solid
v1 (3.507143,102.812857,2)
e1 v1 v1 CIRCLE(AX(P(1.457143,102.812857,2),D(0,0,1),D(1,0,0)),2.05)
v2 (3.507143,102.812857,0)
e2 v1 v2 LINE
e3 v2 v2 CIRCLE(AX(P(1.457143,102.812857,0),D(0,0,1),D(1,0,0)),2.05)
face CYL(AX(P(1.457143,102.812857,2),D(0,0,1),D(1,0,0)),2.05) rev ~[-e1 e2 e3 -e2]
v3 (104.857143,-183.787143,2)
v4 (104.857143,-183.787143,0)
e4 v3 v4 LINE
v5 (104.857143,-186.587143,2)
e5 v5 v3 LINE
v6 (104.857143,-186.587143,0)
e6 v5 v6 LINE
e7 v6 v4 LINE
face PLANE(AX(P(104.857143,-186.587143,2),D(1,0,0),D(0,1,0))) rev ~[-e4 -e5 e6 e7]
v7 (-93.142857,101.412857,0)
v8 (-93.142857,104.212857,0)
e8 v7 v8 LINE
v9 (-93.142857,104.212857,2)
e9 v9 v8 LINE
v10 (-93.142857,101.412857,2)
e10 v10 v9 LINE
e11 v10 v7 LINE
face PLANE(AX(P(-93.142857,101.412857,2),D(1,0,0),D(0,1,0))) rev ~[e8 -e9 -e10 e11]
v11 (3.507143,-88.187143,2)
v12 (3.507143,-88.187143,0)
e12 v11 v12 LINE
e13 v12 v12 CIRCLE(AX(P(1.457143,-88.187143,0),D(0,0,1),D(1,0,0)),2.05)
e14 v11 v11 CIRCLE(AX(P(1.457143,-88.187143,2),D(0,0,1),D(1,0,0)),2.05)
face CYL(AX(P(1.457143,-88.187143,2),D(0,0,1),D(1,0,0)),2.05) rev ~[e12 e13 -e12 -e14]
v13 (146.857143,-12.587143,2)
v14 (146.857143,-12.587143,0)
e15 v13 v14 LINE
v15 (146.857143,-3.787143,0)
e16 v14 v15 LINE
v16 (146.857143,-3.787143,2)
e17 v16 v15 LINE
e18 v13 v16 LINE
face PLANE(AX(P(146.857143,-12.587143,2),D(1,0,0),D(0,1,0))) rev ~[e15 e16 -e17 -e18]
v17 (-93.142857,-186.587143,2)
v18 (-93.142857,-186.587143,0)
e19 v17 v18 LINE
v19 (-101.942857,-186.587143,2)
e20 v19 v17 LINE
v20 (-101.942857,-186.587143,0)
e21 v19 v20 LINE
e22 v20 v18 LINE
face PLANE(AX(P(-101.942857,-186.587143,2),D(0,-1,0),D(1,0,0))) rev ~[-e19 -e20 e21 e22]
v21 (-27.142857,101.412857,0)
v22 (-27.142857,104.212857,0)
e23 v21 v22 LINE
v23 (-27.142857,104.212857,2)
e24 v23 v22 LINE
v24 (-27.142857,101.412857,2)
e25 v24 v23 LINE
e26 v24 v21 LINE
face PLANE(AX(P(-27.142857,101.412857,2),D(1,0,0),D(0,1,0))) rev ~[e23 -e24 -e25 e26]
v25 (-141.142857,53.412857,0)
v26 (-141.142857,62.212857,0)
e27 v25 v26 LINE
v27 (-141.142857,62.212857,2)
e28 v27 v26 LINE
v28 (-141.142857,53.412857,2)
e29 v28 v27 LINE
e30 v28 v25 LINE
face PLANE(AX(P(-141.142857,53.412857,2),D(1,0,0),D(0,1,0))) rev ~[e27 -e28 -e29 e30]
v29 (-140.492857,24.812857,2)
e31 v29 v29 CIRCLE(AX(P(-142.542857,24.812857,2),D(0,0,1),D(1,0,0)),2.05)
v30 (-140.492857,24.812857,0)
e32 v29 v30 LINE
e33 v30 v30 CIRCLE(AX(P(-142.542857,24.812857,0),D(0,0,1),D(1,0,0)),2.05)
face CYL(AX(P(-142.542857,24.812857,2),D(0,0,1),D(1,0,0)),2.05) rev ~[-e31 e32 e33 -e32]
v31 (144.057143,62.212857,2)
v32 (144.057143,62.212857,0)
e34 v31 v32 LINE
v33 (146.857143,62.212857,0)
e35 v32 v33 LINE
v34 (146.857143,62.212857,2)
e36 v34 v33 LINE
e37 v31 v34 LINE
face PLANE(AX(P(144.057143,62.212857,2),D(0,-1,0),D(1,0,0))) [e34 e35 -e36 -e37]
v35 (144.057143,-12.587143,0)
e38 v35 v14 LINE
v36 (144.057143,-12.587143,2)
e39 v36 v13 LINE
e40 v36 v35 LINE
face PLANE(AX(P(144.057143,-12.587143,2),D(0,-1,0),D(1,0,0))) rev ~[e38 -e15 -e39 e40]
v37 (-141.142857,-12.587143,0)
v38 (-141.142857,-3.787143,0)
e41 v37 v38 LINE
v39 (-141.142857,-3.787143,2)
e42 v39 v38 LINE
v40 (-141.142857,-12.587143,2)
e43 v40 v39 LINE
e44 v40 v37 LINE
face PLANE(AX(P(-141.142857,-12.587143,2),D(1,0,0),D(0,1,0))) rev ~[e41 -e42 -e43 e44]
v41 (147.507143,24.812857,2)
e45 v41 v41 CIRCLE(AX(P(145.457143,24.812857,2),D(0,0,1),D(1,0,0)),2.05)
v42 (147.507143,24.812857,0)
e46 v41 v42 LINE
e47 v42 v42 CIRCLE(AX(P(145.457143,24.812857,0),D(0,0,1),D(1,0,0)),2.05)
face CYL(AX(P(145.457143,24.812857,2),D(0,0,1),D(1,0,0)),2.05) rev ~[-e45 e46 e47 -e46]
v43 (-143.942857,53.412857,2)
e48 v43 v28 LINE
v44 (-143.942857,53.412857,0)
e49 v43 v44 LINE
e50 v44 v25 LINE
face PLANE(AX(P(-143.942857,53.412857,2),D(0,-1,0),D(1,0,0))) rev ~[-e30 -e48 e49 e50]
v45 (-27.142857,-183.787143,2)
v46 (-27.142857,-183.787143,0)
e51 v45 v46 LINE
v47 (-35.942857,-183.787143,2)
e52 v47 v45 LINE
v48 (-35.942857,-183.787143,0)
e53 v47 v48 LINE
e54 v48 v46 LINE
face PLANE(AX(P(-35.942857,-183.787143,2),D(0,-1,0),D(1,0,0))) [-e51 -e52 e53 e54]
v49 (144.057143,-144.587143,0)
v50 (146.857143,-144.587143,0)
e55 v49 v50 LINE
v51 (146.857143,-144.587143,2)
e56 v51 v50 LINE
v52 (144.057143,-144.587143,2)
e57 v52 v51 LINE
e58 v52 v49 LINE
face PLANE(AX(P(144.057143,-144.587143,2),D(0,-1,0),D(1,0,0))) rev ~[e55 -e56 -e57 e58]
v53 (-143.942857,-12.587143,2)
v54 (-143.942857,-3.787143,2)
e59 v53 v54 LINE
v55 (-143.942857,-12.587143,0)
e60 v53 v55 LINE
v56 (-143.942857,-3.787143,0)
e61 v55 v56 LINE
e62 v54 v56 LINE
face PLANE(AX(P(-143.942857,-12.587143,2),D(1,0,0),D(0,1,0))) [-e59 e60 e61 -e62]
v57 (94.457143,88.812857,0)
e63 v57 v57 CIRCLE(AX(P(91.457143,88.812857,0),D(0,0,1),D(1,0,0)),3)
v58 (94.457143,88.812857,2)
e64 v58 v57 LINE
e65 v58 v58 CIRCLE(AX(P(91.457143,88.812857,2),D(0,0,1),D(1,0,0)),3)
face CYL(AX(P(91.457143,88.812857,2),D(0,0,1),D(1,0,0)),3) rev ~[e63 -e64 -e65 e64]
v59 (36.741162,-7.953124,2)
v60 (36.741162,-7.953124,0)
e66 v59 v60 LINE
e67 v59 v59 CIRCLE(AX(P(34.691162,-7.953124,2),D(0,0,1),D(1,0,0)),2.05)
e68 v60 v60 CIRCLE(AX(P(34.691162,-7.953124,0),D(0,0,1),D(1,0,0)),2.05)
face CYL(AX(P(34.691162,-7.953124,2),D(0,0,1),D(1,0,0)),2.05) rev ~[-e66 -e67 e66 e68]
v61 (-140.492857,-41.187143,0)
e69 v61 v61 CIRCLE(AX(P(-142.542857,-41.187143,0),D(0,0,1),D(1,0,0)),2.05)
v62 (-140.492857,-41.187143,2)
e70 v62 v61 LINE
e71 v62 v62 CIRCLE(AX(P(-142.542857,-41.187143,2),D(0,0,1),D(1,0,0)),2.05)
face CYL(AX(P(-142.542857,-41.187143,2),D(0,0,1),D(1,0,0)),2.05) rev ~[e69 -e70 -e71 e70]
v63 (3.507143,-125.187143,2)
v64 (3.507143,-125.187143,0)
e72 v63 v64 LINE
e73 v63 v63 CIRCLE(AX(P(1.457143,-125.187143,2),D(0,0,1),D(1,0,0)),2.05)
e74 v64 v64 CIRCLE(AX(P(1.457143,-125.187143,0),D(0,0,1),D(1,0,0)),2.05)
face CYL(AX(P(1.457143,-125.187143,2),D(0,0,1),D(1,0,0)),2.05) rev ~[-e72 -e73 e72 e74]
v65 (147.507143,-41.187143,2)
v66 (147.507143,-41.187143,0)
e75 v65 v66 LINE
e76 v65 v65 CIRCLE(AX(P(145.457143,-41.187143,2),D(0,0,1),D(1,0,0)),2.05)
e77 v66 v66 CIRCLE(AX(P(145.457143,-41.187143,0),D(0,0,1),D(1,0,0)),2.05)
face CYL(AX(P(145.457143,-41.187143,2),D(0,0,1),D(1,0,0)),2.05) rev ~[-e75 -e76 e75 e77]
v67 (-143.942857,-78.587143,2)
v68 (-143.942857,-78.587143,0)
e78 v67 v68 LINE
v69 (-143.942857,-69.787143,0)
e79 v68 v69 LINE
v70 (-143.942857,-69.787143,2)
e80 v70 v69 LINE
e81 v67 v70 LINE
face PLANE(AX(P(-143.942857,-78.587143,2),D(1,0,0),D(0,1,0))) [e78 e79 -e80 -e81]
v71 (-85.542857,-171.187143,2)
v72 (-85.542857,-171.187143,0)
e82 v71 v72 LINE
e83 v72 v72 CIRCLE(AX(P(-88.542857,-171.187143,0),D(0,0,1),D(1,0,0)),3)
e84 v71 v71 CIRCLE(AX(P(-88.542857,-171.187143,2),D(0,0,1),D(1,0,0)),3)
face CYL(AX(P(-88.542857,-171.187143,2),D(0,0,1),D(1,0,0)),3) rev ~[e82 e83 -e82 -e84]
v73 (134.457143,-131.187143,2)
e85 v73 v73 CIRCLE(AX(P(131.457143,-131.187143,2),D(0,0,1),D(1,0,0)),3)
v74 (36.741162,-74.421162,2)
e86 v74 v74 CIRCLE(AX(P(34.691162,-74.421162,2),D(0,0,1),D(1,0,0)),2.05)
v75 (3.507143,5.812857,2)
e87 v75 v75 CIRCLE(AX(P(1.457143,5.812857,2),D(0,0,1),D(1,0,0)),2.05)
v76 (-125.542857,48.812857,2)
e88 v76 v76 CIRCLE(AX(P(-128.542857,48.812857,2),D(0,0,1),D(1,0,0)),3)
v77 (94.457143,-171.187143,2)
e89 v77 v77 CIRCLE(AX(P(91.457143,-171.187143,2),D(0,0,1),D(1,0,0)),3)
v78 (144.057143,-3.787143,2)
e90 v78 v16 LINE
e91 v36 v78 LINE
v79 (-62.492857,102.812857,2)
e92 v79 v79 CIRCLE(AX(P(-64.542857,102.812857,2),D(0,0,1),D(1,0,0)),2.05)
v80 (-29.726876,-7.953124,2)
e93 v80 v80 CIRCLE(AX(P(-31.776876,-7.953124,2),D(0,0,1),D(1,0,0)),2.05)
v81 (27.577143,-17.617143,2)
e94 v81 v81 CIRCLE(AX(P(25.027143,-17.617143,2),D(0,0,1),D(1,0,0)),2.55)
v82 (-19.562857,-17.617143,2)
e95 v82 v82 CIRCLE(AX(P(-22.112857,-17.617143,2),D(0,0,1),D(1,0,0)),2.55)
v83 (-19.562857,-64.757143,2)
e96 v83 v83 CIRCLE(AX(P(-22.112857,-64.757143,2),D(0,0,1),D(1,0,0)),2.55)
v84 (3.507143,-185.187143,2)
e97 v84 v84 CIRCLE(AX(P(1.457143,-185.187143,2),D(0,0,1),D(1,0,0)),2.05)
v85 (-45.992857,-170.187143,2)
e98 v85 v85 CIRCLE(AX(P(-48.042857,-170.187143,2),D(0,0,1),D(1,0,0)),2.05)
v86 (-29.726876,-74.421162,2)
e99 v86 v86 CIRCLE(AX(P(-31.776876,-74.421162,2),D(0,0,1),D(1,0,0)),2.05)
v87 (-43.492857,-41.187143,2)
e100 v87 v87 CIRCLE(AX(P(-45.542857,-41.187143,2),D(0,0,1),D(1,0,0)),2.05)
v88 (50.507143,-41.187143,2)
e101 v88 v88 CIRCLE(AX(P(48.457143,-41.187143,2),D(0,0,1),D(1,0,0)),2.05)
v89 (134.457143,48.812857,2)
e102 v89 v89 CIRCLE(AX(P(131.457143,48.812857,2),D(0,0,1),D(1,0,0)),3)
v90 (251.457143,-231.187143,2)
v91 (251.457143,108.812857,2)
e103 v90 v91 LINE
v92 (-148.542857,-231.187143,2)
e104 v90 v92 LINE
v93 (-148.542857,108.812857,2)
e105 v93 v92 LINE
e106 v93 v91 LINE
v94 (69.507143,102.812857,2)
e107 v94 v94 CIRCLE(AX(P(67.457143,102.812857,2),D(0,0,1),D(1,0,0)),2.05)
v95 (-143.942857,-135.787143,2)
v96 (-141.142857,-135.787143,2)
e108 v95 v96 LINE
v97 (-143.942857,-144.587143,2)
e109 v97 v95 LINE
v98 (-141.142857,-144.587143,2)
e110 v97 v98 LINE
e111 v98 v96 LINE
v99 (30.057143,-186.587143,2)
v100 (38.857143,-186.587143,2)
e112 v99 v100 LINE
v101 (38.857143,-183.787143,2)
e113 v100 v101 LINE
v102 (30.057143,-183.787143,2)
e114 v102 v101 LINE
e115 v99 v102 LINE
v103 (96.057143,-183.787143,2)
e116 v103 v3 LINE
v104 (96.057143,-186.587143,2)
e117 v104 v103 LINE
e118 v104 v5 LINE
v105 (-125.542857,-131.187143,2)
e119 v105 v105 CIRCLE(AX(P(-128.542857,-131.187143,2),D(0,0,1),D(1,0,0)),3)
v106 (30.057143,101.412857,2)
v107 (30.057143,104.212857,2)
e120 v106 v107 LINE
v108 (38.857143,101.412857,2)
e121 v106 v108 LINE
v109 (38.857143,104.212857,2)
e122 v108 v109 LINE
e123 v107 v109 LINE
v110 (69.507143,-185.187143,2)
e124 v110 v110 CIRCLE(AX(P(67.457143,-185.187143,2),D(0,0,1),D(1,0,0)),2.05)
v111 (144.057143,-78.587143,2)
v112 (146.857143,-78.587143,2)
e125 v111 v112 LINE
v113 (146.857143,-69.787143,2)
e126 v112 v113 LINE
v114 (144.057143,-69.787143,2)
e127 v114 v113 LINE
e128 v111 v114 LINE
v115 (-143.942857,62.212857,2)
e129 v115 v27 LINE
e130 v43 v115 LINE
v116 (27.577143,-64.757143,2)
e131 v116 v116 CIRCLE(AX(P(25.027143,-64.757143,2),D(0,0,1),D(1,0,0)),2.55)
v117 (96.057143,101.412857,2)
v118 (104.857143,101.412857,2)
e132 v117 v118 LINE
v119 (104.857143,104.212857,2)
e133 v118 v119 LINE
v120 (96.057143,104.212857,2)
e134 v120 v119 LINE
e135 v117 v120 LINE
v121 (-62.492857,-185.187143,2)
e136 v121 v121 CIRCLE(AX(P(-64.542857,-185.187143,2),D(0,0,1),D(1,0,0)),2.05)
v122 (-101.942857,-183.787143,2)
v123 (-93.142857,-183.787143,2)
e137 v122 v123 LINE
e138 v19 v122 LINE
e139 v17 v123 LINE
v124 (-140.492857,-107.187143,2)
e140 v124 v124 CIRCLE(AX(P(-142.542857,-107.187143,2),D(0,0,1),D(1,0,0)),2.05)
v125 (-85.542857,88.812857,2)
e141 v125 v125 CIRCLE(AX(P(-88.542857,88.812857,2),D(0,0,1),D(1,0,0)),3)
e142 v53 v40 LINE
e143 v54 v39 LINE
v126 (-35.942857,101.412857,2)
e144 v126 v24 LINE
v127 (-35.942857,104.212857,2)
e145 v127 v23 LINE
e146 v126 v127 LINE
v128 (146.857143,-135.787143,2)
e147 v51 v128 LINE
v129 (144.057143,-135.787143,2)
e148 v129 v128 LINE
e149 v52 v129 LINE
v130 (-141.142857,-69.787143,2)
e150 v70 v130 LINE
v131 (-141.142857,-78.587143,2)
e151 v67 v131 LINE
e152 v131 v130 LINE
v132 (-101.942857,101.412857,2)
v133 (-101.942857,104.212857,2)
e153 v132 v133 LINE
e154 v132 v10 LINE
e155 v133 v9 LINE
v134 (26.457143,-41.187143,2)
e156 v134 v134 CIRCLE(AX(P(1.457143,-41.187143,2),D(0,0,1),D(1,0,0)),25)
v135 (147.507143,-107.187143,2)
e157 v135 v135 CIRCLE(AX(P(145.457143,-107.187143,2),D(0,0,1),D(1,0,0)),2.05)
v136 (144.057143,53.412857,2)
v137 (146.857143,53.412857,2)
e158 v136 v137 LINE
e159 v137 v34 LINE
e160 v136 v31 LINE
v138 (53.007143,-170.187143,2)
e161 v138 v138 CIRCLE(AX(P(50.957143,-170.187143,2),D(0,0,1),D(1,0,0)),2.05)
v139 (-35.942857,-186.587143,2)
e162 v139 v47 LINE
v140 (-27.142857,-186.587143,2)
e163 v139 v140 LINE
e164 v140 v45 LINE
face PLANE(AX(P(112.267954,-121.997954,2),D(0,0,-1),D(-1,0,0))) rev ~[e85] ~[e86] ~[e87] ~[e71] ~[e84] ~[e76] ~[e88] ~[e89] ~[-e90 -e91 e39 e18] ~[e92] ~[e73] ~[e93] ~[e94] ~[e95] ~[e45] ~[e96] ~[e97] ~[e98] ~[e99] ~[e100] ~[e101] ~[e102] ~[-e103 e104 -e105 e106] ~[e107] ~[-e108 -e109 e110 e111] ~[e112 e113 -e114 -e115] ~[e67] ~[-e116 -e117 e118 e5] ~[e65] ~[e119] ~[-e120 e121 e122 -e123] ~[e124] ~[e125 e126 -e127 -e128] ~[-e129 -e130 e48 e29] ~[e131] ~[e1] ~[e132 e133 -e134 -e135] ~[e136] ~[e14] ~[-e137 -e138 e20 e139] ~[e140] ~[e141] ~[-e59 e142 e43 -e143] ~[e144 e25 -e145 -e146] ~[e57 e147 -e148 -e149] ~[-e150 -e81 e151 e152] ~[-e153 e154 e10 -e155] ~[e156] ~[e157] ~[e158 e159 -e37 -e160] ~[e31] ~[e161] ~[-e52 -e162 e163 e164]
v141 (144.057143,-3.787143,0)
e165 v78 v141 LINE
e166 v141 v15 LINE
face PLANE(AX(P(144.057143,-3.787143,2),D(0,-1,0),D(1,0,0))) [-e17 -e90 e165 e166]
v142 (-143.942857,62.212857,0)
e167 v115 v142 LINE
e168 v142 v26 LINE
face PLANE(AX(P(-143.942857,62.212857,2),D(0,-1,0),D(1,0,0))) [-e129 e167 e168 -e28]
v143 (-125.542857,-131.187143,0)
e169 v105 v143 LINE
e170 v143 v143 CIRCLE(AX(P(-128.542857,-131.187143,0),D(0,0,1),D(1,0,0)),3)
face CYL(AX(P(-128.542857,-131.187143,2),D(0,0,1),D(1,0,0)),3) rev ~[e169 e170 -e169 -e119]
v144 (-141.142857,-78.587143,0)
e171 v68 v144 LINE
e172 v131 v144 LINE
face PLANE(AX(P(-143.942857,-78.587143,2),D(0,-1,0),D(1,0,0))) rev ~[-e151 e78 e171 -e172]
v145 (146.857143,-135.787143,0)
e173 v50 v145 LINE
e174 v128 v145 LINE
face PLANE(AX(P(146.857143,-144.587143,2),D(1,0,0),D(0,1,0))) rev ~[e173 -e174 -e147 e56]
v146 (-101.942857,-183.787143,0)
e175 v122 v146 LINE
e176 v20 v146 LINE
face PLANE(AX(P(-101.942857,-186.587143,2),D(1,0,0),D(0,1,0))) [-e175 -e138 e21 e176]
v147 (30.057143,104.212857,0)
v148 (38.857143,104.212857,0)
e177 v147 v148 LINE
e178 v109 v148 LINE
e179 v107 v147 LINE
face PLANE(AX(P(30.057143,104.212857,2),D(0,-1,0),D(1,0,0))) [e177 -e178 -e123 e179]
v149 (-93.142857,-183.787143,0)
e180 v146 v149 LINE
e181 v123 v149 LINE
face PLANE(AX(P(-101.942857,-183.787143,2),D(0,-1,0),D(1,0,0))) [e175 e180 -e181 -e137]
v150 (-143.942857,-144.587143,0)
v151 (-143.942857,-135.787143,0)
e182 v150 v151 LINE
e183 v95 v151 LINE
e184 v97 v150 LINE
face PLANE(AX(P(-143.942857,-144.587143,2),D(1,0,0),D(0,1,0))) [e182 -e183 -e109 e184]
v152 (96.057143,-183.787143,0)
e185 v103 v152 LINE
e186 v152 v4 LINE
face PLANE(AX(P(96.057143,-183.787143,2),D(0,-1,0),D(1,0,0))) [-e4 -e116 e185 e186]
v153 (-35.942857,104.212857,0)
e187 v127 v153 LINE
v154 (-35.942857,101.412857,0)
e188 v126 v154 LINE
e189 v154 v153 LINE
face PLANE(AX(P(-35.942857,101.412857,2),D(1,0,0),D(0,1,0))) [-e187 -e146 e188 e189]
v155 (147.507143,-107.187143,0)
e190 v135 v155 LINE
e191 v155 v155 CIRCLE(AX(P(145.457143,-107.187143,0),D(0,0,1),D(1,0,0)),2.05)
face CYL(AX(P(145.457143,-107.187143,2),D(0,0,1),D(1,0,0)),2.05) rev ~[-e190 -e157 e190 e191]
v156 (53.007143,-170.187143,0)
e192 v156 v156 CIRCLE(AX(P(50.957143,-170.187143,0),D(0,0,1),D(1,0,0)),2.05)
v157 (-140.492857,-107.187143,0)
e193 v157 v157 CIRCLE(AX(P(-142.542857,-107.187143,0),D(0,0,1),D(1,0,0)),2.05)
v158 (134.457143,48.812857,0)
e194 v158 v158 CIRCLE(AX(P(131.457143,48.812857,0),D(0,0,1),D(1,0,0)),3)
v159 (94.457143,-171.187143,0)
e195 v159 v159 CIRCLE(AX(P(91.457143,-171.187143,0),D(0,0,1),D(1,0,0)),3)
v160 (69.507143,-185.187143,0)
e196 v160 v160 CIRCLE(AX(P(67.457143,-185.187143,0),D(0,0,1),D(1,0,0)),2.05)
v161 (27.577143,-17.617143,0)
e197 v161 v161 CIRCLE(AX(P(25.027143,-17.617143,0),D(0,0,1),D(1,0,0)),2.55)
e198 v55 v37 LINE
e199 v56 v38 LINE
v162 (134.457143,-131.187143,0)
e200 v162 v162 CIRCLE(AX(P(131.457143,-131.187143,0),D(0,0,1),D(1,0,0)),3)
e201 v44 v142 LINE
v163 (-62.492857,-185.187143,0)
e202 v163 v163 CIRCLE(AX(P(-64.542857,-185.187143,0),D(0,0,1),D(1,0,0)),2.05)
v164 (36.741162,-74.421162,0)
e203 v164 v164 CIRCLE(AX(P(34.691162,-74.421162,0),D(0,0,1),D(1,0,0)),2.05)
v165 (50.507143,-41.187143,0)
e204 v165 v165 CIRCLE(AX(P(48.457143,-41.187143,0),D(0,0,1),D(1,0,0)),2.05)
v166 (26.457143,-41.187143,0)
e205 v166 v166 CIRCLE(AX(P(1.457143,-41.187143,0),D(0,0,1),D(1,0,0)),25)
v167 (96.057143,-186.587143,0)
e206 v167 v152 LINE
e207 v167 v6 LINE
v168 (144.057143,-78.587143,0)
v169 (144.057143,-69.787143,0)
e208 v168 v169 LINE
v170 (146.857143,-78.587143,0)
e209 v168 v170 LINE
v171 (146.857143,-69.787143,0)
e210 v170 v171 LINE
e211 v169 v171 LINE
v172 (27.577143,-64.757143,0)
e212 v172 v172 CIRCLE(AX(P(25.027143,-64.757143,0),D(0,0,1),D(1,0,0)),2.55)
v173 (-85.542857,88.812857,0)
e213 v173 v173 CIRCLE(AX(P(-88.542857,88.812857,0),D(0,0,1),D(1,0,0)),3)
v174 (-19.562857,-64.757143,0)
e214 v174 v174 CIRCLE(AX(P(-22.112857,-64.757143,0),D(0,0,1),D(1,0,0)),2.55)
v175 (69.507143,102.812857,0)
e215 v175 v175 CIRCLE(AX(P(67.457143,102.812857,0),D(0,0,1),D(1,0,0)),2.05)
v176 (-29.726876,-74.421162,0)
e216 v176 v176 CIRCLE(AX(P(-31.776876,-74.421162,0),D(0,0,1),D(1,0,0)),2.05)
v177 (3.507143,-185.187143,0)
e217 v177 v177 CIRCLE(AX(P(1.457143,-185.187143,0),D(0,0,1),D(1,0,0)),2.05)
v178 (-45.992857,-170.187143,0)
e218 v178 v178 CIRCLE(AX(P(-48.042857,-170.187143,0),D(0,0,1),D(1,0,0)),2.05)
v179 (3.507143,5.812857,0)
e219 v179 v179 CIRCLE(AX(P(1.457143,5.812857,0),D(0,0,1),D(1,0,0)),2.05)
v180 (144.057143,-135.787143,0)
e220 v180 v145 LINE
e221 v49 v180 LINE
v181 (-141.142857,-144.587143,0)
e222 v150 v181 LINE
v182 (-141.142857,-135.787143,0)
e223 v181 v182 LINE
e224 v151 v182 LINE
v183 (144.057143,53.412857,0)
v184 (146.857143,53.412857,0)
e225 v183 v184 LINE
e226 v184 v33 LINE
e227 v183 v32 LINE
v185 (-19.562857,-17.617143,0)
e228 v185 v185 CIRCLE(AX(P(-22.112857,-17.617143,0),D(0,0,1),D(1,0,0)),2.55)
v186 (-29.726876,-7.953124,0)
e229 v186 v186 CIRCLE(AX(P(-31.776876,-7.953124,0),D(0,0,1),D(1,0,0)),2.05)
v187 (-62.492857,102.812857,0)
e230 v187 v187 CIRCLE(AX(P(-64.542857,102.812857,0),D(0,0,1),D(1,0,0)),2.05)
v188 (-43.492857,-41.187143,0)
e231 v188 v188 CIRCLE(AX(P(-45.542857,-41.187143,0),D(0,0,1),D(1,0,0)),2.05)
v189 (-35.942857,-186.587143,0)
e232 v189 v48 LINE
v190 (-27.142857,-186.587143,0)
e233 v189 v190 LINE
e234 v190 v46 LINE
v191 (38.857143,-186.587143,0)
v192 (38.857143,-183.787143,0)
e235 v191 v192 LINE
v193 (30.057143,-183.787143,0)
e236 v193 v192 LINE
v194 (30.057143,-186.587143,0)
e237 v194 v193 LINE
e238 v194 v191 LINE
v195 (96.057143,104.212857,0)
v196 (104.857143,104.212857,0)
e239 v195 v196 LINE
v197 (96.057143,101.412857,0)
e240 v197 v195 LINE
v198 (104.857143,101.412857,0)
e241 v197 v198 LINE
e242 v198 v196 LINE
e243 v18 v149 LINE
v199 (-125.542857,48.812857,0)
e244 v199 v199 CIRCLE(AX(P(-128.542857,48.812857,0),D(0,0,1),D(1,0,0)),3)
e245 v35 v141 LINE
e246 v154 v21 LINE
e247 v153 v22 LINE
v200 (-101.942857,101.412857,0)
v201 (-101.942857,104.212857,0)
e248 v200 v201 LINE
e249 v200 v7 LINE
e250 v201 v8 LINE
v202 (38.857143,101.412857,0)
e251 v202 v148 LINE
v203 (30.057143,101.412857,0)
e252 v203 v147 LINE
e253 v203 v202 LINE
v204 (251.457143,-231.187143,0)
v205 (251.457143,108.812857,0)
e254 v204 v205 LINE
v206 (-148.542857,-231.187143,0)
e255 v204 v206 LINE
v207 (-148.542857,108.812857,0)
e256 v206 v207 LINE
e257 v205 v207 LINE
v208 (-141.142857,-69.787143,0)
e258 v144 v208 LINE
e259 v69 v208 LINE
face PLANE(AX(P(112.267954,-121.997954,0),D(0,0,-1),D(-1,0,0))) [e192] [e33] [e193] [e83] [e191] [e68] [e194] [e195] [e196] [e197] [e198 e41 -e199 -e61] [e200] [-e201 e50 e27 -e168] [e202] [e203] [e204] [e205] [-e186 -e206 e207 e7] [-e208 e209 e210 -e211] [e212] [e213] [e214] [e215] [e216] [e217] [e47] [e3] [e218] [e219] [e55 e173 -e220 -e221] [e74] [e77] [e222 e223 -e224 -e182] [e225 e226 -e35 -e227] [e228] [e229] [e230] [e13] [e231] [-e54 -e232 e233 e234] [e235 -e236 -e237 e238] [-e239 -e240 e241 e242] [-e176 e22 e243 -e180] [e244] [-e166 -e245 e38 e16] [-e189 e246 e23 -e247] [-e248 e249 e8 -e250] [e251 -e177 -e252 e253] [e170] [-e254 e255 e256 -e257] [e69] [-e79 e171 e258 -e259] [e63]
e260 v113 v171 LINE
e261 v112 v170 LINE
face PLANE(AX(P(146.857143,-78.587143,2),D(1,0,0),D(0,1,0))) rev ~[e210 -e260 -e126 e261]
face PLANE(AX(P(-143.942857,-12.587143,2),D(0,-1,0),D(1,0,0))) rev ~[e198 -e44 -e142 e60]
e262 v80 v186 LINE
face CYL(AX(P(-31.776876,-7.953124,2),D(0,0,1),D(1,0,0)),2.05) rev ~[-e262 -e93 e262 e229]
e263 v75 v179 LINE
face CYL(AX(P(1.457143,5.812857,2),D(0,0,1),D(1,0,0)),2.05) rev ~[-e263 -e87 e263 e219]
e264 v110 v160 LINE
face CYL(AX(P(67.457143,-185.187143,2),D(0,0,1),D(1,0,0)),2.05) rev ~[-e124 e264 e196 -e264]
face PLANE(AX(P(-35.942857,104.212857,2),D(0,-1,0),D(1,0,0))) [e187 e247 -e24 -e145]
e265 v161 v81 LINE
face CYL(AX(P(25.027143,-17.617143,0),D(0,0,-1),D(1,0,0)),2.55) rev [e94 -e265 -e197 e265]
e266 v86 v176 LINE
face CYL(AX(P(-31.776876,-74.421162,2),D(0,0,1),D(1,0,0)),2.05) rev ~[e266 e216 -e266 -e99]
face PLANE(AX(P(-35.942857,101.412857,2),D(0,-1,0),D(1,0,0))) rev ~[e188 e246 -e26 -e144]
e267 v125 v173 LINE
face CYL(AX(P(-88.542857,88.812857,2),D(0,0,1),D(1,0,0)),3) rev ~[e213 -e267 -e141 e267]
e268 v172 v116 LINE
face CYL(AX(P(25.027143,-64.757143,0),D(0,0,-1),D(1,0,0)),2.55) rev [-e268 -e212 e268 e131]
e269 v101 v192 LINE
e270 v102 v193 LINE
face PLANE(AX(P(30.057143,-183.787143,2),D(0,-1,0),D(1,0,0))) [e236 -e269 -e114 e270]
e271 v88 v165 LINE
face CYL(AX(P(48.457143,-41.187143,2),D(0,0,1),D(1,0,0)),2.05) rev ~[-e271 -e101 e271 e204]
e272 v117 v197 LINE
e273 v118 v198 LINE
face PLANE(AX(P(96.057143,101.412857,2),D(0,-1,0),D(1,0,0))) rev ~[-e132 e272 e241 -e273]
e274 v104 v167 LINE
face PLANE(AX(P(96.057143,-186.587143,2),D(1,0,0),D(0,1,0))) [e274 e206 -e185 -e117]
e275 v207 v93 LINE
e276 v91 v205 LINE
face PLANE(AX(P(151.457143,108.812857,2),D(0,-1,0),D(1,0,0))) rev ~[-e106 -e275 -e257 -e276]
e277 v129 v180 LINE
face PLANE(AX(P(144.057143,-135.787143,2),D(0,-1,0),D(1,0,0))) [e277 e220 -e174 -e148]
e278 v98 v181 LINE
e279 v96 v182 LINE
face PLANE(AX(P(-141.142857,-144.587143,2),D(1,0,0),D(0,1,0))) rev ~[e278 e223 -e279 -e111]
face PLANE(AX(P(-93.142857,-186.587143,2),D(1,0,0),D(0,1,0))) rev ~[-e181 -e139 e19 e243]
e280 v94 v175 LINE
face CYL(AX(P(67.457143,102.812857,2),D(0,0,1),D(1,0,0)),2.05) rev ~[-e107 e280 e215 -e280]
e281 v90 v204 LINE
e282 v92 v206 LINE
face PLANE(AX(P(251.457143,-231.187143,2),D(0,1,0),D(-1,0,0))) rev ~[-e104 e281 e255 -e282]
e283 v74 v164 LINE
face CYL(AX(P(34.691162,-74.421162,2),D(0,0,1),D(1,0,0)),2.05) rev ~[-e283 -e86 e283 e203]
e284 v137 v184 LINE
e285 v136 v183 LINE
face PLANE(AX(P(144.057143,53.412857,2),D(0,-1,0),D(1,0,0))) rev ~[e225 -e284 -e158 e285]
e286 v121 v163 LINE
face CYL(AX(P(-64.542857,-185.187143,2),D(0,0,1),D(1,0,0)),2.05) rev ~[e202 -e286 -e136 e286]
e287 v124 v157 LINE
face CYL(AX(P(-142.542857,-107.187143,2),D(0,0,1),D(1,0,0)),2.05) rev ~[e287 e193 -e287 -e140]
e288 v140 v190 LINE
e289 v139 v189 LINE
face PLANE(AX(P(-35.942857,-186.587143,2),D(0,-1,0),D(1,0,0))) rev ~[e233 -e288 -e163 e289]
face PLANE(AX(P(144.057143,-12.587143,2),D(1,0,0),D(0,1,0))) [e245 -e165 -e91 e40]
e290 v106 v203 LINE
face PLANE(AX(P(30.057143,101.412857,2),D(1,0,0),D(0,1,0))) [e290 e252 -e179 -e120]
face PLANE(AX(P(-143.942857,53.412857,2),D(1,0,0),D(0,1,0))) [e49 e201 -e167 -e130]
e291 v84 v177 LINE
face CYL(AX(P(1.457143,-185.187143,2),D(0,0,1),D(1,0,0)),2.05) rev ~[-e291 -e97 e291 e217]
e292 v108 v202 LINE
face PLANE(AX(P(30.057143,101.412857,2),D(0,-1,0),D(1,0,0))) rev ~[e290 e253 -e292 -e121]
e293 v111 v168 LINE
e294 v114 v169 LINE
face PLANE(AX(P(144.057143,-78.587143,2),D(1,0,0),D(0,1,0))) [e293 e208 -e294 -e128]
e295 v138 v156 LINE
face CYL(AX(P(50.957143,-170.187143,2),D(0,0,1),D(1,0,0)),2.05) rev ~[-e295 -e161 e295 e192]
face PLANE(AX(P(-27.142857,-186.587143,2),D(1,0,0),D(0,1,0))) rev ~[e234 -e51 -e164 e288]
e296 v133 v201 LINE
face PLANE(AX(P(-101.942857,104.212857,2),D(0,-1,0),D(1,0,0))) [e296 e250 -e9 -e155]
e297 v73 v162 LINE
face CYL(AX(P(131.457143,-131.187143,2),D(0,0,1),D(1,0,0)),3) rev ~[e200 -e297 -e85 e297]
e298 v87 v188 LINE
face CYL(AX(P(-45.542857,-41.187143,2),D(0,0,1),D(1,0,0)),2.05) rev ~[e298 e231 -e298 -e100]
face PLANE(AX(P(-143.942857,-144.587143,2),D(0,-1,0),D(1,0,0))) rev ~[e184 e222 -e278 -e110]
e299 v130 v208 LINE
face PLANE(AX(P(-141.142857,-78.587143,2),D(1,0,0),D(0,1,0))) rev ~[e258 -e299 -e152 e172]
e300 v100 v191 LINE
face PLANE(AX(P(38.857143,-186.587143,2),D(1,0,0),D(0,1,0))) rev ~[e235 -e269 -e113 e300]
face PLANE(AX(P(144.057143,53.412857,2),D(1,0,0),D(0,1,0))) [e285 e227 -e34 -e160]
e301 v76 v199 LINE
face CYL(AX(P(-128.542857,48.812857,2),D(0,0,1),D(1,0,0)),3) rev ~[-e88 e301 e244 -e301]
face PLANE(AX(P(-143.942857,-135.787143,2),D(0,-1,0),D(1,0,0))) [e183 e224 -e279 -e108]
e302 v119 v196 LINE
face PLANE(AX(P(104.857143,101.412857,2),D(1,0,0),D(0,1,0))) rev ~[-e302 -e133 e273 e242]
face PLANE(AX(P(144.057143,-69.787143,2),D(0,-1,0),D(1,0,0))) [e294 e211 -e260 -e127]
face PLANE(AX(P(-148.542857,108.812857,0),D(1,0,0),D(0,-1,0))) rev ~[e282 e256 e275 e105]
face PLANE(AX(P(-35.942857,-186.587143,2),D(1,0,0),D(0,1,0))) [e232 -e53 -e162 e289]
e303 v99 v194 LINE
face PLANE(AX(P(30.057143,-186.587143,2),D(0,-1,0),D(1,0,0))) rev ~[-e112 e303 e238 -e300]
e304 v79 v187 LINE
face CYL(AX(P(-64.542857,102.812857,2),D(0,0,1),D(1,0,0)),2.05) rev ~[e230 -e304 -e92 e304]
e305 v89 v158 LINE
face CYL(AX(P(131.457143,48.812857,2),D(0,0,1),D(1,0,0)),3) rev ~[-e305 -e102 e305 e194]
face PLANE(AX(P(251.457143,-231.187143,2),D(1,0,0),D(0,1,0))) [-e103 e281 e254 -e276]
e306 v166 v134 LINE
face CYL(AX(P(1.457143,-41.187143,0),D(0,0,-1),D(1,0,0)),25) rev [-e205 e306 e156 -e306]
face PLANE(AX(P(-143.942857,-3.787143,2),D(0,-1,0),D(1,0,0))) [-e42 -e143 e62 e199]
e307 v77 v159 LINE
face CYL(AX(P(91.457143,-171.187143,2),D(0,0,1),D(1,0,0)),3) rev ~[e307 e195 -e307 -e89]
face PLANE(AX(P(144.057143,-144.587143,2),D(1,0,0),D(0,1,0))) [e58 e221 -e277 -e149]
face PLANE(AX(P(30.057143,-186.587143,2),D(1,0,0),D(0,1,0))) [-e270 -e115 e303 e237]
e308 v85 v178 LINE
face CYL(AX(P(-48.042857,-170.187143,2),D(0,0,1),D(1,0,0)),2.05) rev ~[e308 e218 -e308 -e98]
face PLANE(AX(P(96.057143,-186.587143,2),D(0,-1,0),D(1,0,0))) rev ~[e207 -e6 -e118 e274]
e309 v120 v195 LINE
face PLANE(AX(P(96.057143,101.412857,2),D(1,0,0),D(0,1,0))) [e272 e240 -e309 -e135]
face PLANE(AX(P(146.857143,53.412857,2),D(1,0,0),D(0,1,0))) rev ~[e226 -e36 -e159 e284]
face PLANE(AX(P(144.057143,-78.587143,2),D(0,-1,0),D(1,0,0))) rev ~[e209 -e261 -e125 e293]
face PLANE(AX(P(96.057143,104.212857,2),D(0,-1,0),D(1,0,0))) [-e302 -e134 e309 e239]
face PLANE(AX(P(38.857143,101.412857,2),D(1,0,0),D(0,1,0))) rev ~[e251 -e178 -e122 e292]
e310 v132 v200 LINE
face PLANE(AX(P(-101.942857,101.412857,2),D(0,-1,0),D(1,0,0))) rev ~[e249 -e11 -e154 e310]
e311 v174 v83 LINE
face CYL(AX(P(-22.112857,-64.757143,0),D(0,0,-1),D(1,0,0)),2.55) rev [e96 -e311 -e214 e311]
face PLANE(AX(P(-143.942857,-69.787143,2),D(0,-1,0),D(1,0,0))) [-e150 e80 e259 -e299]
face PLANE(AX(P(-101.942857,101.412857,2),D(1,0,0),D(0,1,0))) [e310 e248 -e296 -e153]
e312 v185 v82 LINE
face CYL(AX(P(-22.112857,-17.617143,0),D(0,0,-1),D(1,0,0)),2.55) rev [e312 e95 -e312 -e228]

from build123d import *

# Parameters (mm, degrees)
SKETCH_1_R          = 25
SKETCH_1_R_2        = 2.55
EXTRUDE_1_DEPTH     = 2
SKETCH_3_R          = 2.05
SKETCH_3_W          = 8.8
SKETCH_3_H          = 2.8
SKETCH_3_W_2        = 2.8
SKETCH_3_H_2        = 8.8
CUT_EXTRUDE_2_DEPTH = 4
SKETCH_7_R          = 3
CUT_EXTRUDE_3_DEPTH = 10
EXTRUDE_3_DEPTH     = 2


with BuildPart() as part:
    # 草图1 → 凸台-拉伸1 (new body)
    with BuildSketch(Plane.XY):
        Polygon((151.457142857, -41.187142857), (151.457142857, 108.812857143), (-148.542857143, 108.812857143), (-148.542857143, -191.187142857), (151.457142857, -191.187142857), align=None)
        with Locations((1.457142857, -41.187142857)):
            Circle(SKETCH_1_R, mode=Mode.SUBTRACT)
        with Locations((25.027142857, -17.617142857)):
            Circle(SKETCH_1_R_2, mode=Mode.SUBTRACT)
        with Locations((25.027142857, -64.757142857)):
            Circle(SKETCH_1_R_2, mode=Mode.SUBTRACT)
        with Locations((-22.112857143, -64.757142857)):
            Circle(SKETCH_1_R_2, mode=Mode.SUBTRACT)
        with Locations((-22.112857143, -17.617142857)):
            Circle(SKETCH_1_R_2, mode=Mode.SUBTRACT)
    extrude(amount=EXTRUDE_1_DEPTH)

    # 草图3 → 切除-拉伸2 (cut)
    with BuildSketch(Plane.XY.offset(2)):
        with Locations((1.457142857, -185.187142857)):
            Circle(SKETCH_3_R)
        with Locations((67.457142857, -185.187142857)):
            Circle(SKETCH_3_R)
        with Locations((-64.542857143, -185.187142857)):
            Circle(SKETCH_3_R)
        with Locations((-142.542857143, 24.812857143)):
            Circle(SKETCH_3_R)
        with Locations((-142.542857143, -41.187142857)):
            Circle(SKETCH_3_R)
        with Locations((-142.542857143, -107.187142857)):
            Circle(SKETCH_3_R)
        with Locations((67.457142857, 102.812857143)):
            Circle(SKETCH_3_R)
        with Locations((1.457142857, 102.812857143)):
            Circle(SKETCH_3_R)
        with Locations((-64.542857143, 102.812857143)):
            Circle(SKETCH_3_R)
        with Locations((145.457142857, -107.187142857)):
            Circle(SKETCH_3_R)
        with Locations((145.457142857, -41.187142857)):
            Circle(SKETCH_3_R)
        with Locations((145.457142857, 24.812857143)):
            Circle(SKETCH_3_R)
        with Locations((50.957142857, -170.187142857)):
            Circle(SKETCH_3_R)
        with Locations((-48.042857143, -170.187142857)):
            Circle(SKETCH_3_R)
        with Locations((1.457142857, -88.187142857)):
            Circle(SKETCH_3_R)
        with Locations((-31.776875859, -74.421161573)):
            Circle(SKETCH_3_R)
        with Locations((-45.542857143, -41.187142857)):
            Circle(SKETCH_3_R)
        with Locations((-31.776875859, -7.953124141)):
            Circle(SKETCH_3_R)
        with Locations((1.457142857, 5.812857143)):
            Circle(SKETCH_3_R)
        with Locations((34.691161573, -7.953124141)):
            Circle(SKETCH_3_R)
        with Locations((48.457142857, -41.187142857)):
            Circle(SKETCH_3_R)
        with Locations((34.691161573, -74.421161573)):
            Circle(SKETCH_3_R)
        with Locations((1.457142857, -125.187142857)):
            Circle(SKETCH_3_R)
        with Locations((100.457142857, -185.187142857)):
            Rectangle(SKETCH_3_W, SKETCH_3_H)
        with Locations((34.457142857, -185.187142857)):
            Rectangle(SKETCH_3_W, SKETCH_3_H)
        with Locations((-31.542857143, -185.187142857)):
            Rectangle(SKETCH_3_W, SKETCH_3_H)
        with Locations((-97.542857143, -185.187142857)):
            Rectangle(SKETCH_3_W, SKETCH_3_H)
        with Locations((-142.542857143, 57.812857143)):
            Rectangle(SKETCH_3_W_2, SKETCH_3_H_2)
        with Locations((-142.542857143, -8.187142857)):
            Rectangle(SKETCH_3_W_2, SKETCH_3_H_2)
        with Locations((-142.542857143, -74.187142857)):
            Rectangle(SKETCH_3_W_2, SKETCH_3_H_2)
        with Locations((-142.542857143, -140.187142857)):
            Rectangle(SKETCH_3_W_2, SKETCH_3_H_2)
        with Locations((100.457142857, 102.812857143)):
            Rectangle(SKETCH_3_W, SKETCH_3_H)
        with Locations((34.457142857, 102.812857143)):
            Rectangle(SKETCH_3_W, SKETCH_3_H)
        with Locations((-31.542857143, 102.812857143)):
            Rectangle(SKETCH_3_W, SKETCH_3_H)
        with Locations((-97.542857143, 102.812857143)):
            Rectangle(SKETCH_3_W, SKETCH_3_H)
        with Locations((145.457142857, -140.187142857)):
            Rectangle(SKETCH_3_W_2, SKETCH_3_H_2)
        with Locations((145.457142857, -74.187142857)):
            Rectangle(SKETCH_3_W_2, SKETCH_3_H_2)
        with Locations((145.457142857, -8.187142857)):
            Rectangle(SKETCH_3_W_2, SKETCH_3_H_2)
        with Locations((145.457142857, 57.812857143)):
            Rectangle(SKETCH_3_W_2, SKETCH_3_H_2)
    extrude(amount=-CUT_EXTRUDE_2_DEPTH, mode=Mode.SUBTRACT)

    # 草图7 → 切除-拉伸3 (cut)
    with BuildSketch(Plane.XY.offset(2)):
        with Locations((-88.542857143, -171.187142857)):
            Circle(SKETCH_7_R)
        with Locations((91.457142857, -171.187142857)):
            Circle(SKETCH_7_R)
        with Locations((-128.542857143, 48.812857143)):
            Circle(SKETCH_7_R)
        with Locations((-128.542857143, -131.187142857)):
            Circle(SKETCH_7_R)
        with Locations((91.457142857, 88.812857143)):
            Circle(SKETCH_7_R)
        with Locations((-88.542857143, 88.812857143)):
            Circle(SKETCH_7_R)
        with Locations((131.457142857, -131.187142857)):
            Circle(SKETCH_7_R)
        with Locations((131.457142857, 48.812857143)):
            Circle(SKETCH_7_R)
    extrude(amount=-CUT_EXTRUDE_3_DEPTH, mode=Mode.SUBTRACT)

    # 草图9 → 凸台-拉伸3 (add)
    with BuildSketch(Plane.XY.offset(2)):
        Polygon((151.457142857, 108.812857143), (251.457142857, 108.812857143), (251.457142857, -191.187142857), (251.457142857, -231.187142857), (-148.542857143, -231.187142857), (-148.542857143, -191.187142857), (151.457142857, -191.187142857), align=None)
    extrude(amount=-EXTRUDE_3_DEPTH)


solid = part.part
